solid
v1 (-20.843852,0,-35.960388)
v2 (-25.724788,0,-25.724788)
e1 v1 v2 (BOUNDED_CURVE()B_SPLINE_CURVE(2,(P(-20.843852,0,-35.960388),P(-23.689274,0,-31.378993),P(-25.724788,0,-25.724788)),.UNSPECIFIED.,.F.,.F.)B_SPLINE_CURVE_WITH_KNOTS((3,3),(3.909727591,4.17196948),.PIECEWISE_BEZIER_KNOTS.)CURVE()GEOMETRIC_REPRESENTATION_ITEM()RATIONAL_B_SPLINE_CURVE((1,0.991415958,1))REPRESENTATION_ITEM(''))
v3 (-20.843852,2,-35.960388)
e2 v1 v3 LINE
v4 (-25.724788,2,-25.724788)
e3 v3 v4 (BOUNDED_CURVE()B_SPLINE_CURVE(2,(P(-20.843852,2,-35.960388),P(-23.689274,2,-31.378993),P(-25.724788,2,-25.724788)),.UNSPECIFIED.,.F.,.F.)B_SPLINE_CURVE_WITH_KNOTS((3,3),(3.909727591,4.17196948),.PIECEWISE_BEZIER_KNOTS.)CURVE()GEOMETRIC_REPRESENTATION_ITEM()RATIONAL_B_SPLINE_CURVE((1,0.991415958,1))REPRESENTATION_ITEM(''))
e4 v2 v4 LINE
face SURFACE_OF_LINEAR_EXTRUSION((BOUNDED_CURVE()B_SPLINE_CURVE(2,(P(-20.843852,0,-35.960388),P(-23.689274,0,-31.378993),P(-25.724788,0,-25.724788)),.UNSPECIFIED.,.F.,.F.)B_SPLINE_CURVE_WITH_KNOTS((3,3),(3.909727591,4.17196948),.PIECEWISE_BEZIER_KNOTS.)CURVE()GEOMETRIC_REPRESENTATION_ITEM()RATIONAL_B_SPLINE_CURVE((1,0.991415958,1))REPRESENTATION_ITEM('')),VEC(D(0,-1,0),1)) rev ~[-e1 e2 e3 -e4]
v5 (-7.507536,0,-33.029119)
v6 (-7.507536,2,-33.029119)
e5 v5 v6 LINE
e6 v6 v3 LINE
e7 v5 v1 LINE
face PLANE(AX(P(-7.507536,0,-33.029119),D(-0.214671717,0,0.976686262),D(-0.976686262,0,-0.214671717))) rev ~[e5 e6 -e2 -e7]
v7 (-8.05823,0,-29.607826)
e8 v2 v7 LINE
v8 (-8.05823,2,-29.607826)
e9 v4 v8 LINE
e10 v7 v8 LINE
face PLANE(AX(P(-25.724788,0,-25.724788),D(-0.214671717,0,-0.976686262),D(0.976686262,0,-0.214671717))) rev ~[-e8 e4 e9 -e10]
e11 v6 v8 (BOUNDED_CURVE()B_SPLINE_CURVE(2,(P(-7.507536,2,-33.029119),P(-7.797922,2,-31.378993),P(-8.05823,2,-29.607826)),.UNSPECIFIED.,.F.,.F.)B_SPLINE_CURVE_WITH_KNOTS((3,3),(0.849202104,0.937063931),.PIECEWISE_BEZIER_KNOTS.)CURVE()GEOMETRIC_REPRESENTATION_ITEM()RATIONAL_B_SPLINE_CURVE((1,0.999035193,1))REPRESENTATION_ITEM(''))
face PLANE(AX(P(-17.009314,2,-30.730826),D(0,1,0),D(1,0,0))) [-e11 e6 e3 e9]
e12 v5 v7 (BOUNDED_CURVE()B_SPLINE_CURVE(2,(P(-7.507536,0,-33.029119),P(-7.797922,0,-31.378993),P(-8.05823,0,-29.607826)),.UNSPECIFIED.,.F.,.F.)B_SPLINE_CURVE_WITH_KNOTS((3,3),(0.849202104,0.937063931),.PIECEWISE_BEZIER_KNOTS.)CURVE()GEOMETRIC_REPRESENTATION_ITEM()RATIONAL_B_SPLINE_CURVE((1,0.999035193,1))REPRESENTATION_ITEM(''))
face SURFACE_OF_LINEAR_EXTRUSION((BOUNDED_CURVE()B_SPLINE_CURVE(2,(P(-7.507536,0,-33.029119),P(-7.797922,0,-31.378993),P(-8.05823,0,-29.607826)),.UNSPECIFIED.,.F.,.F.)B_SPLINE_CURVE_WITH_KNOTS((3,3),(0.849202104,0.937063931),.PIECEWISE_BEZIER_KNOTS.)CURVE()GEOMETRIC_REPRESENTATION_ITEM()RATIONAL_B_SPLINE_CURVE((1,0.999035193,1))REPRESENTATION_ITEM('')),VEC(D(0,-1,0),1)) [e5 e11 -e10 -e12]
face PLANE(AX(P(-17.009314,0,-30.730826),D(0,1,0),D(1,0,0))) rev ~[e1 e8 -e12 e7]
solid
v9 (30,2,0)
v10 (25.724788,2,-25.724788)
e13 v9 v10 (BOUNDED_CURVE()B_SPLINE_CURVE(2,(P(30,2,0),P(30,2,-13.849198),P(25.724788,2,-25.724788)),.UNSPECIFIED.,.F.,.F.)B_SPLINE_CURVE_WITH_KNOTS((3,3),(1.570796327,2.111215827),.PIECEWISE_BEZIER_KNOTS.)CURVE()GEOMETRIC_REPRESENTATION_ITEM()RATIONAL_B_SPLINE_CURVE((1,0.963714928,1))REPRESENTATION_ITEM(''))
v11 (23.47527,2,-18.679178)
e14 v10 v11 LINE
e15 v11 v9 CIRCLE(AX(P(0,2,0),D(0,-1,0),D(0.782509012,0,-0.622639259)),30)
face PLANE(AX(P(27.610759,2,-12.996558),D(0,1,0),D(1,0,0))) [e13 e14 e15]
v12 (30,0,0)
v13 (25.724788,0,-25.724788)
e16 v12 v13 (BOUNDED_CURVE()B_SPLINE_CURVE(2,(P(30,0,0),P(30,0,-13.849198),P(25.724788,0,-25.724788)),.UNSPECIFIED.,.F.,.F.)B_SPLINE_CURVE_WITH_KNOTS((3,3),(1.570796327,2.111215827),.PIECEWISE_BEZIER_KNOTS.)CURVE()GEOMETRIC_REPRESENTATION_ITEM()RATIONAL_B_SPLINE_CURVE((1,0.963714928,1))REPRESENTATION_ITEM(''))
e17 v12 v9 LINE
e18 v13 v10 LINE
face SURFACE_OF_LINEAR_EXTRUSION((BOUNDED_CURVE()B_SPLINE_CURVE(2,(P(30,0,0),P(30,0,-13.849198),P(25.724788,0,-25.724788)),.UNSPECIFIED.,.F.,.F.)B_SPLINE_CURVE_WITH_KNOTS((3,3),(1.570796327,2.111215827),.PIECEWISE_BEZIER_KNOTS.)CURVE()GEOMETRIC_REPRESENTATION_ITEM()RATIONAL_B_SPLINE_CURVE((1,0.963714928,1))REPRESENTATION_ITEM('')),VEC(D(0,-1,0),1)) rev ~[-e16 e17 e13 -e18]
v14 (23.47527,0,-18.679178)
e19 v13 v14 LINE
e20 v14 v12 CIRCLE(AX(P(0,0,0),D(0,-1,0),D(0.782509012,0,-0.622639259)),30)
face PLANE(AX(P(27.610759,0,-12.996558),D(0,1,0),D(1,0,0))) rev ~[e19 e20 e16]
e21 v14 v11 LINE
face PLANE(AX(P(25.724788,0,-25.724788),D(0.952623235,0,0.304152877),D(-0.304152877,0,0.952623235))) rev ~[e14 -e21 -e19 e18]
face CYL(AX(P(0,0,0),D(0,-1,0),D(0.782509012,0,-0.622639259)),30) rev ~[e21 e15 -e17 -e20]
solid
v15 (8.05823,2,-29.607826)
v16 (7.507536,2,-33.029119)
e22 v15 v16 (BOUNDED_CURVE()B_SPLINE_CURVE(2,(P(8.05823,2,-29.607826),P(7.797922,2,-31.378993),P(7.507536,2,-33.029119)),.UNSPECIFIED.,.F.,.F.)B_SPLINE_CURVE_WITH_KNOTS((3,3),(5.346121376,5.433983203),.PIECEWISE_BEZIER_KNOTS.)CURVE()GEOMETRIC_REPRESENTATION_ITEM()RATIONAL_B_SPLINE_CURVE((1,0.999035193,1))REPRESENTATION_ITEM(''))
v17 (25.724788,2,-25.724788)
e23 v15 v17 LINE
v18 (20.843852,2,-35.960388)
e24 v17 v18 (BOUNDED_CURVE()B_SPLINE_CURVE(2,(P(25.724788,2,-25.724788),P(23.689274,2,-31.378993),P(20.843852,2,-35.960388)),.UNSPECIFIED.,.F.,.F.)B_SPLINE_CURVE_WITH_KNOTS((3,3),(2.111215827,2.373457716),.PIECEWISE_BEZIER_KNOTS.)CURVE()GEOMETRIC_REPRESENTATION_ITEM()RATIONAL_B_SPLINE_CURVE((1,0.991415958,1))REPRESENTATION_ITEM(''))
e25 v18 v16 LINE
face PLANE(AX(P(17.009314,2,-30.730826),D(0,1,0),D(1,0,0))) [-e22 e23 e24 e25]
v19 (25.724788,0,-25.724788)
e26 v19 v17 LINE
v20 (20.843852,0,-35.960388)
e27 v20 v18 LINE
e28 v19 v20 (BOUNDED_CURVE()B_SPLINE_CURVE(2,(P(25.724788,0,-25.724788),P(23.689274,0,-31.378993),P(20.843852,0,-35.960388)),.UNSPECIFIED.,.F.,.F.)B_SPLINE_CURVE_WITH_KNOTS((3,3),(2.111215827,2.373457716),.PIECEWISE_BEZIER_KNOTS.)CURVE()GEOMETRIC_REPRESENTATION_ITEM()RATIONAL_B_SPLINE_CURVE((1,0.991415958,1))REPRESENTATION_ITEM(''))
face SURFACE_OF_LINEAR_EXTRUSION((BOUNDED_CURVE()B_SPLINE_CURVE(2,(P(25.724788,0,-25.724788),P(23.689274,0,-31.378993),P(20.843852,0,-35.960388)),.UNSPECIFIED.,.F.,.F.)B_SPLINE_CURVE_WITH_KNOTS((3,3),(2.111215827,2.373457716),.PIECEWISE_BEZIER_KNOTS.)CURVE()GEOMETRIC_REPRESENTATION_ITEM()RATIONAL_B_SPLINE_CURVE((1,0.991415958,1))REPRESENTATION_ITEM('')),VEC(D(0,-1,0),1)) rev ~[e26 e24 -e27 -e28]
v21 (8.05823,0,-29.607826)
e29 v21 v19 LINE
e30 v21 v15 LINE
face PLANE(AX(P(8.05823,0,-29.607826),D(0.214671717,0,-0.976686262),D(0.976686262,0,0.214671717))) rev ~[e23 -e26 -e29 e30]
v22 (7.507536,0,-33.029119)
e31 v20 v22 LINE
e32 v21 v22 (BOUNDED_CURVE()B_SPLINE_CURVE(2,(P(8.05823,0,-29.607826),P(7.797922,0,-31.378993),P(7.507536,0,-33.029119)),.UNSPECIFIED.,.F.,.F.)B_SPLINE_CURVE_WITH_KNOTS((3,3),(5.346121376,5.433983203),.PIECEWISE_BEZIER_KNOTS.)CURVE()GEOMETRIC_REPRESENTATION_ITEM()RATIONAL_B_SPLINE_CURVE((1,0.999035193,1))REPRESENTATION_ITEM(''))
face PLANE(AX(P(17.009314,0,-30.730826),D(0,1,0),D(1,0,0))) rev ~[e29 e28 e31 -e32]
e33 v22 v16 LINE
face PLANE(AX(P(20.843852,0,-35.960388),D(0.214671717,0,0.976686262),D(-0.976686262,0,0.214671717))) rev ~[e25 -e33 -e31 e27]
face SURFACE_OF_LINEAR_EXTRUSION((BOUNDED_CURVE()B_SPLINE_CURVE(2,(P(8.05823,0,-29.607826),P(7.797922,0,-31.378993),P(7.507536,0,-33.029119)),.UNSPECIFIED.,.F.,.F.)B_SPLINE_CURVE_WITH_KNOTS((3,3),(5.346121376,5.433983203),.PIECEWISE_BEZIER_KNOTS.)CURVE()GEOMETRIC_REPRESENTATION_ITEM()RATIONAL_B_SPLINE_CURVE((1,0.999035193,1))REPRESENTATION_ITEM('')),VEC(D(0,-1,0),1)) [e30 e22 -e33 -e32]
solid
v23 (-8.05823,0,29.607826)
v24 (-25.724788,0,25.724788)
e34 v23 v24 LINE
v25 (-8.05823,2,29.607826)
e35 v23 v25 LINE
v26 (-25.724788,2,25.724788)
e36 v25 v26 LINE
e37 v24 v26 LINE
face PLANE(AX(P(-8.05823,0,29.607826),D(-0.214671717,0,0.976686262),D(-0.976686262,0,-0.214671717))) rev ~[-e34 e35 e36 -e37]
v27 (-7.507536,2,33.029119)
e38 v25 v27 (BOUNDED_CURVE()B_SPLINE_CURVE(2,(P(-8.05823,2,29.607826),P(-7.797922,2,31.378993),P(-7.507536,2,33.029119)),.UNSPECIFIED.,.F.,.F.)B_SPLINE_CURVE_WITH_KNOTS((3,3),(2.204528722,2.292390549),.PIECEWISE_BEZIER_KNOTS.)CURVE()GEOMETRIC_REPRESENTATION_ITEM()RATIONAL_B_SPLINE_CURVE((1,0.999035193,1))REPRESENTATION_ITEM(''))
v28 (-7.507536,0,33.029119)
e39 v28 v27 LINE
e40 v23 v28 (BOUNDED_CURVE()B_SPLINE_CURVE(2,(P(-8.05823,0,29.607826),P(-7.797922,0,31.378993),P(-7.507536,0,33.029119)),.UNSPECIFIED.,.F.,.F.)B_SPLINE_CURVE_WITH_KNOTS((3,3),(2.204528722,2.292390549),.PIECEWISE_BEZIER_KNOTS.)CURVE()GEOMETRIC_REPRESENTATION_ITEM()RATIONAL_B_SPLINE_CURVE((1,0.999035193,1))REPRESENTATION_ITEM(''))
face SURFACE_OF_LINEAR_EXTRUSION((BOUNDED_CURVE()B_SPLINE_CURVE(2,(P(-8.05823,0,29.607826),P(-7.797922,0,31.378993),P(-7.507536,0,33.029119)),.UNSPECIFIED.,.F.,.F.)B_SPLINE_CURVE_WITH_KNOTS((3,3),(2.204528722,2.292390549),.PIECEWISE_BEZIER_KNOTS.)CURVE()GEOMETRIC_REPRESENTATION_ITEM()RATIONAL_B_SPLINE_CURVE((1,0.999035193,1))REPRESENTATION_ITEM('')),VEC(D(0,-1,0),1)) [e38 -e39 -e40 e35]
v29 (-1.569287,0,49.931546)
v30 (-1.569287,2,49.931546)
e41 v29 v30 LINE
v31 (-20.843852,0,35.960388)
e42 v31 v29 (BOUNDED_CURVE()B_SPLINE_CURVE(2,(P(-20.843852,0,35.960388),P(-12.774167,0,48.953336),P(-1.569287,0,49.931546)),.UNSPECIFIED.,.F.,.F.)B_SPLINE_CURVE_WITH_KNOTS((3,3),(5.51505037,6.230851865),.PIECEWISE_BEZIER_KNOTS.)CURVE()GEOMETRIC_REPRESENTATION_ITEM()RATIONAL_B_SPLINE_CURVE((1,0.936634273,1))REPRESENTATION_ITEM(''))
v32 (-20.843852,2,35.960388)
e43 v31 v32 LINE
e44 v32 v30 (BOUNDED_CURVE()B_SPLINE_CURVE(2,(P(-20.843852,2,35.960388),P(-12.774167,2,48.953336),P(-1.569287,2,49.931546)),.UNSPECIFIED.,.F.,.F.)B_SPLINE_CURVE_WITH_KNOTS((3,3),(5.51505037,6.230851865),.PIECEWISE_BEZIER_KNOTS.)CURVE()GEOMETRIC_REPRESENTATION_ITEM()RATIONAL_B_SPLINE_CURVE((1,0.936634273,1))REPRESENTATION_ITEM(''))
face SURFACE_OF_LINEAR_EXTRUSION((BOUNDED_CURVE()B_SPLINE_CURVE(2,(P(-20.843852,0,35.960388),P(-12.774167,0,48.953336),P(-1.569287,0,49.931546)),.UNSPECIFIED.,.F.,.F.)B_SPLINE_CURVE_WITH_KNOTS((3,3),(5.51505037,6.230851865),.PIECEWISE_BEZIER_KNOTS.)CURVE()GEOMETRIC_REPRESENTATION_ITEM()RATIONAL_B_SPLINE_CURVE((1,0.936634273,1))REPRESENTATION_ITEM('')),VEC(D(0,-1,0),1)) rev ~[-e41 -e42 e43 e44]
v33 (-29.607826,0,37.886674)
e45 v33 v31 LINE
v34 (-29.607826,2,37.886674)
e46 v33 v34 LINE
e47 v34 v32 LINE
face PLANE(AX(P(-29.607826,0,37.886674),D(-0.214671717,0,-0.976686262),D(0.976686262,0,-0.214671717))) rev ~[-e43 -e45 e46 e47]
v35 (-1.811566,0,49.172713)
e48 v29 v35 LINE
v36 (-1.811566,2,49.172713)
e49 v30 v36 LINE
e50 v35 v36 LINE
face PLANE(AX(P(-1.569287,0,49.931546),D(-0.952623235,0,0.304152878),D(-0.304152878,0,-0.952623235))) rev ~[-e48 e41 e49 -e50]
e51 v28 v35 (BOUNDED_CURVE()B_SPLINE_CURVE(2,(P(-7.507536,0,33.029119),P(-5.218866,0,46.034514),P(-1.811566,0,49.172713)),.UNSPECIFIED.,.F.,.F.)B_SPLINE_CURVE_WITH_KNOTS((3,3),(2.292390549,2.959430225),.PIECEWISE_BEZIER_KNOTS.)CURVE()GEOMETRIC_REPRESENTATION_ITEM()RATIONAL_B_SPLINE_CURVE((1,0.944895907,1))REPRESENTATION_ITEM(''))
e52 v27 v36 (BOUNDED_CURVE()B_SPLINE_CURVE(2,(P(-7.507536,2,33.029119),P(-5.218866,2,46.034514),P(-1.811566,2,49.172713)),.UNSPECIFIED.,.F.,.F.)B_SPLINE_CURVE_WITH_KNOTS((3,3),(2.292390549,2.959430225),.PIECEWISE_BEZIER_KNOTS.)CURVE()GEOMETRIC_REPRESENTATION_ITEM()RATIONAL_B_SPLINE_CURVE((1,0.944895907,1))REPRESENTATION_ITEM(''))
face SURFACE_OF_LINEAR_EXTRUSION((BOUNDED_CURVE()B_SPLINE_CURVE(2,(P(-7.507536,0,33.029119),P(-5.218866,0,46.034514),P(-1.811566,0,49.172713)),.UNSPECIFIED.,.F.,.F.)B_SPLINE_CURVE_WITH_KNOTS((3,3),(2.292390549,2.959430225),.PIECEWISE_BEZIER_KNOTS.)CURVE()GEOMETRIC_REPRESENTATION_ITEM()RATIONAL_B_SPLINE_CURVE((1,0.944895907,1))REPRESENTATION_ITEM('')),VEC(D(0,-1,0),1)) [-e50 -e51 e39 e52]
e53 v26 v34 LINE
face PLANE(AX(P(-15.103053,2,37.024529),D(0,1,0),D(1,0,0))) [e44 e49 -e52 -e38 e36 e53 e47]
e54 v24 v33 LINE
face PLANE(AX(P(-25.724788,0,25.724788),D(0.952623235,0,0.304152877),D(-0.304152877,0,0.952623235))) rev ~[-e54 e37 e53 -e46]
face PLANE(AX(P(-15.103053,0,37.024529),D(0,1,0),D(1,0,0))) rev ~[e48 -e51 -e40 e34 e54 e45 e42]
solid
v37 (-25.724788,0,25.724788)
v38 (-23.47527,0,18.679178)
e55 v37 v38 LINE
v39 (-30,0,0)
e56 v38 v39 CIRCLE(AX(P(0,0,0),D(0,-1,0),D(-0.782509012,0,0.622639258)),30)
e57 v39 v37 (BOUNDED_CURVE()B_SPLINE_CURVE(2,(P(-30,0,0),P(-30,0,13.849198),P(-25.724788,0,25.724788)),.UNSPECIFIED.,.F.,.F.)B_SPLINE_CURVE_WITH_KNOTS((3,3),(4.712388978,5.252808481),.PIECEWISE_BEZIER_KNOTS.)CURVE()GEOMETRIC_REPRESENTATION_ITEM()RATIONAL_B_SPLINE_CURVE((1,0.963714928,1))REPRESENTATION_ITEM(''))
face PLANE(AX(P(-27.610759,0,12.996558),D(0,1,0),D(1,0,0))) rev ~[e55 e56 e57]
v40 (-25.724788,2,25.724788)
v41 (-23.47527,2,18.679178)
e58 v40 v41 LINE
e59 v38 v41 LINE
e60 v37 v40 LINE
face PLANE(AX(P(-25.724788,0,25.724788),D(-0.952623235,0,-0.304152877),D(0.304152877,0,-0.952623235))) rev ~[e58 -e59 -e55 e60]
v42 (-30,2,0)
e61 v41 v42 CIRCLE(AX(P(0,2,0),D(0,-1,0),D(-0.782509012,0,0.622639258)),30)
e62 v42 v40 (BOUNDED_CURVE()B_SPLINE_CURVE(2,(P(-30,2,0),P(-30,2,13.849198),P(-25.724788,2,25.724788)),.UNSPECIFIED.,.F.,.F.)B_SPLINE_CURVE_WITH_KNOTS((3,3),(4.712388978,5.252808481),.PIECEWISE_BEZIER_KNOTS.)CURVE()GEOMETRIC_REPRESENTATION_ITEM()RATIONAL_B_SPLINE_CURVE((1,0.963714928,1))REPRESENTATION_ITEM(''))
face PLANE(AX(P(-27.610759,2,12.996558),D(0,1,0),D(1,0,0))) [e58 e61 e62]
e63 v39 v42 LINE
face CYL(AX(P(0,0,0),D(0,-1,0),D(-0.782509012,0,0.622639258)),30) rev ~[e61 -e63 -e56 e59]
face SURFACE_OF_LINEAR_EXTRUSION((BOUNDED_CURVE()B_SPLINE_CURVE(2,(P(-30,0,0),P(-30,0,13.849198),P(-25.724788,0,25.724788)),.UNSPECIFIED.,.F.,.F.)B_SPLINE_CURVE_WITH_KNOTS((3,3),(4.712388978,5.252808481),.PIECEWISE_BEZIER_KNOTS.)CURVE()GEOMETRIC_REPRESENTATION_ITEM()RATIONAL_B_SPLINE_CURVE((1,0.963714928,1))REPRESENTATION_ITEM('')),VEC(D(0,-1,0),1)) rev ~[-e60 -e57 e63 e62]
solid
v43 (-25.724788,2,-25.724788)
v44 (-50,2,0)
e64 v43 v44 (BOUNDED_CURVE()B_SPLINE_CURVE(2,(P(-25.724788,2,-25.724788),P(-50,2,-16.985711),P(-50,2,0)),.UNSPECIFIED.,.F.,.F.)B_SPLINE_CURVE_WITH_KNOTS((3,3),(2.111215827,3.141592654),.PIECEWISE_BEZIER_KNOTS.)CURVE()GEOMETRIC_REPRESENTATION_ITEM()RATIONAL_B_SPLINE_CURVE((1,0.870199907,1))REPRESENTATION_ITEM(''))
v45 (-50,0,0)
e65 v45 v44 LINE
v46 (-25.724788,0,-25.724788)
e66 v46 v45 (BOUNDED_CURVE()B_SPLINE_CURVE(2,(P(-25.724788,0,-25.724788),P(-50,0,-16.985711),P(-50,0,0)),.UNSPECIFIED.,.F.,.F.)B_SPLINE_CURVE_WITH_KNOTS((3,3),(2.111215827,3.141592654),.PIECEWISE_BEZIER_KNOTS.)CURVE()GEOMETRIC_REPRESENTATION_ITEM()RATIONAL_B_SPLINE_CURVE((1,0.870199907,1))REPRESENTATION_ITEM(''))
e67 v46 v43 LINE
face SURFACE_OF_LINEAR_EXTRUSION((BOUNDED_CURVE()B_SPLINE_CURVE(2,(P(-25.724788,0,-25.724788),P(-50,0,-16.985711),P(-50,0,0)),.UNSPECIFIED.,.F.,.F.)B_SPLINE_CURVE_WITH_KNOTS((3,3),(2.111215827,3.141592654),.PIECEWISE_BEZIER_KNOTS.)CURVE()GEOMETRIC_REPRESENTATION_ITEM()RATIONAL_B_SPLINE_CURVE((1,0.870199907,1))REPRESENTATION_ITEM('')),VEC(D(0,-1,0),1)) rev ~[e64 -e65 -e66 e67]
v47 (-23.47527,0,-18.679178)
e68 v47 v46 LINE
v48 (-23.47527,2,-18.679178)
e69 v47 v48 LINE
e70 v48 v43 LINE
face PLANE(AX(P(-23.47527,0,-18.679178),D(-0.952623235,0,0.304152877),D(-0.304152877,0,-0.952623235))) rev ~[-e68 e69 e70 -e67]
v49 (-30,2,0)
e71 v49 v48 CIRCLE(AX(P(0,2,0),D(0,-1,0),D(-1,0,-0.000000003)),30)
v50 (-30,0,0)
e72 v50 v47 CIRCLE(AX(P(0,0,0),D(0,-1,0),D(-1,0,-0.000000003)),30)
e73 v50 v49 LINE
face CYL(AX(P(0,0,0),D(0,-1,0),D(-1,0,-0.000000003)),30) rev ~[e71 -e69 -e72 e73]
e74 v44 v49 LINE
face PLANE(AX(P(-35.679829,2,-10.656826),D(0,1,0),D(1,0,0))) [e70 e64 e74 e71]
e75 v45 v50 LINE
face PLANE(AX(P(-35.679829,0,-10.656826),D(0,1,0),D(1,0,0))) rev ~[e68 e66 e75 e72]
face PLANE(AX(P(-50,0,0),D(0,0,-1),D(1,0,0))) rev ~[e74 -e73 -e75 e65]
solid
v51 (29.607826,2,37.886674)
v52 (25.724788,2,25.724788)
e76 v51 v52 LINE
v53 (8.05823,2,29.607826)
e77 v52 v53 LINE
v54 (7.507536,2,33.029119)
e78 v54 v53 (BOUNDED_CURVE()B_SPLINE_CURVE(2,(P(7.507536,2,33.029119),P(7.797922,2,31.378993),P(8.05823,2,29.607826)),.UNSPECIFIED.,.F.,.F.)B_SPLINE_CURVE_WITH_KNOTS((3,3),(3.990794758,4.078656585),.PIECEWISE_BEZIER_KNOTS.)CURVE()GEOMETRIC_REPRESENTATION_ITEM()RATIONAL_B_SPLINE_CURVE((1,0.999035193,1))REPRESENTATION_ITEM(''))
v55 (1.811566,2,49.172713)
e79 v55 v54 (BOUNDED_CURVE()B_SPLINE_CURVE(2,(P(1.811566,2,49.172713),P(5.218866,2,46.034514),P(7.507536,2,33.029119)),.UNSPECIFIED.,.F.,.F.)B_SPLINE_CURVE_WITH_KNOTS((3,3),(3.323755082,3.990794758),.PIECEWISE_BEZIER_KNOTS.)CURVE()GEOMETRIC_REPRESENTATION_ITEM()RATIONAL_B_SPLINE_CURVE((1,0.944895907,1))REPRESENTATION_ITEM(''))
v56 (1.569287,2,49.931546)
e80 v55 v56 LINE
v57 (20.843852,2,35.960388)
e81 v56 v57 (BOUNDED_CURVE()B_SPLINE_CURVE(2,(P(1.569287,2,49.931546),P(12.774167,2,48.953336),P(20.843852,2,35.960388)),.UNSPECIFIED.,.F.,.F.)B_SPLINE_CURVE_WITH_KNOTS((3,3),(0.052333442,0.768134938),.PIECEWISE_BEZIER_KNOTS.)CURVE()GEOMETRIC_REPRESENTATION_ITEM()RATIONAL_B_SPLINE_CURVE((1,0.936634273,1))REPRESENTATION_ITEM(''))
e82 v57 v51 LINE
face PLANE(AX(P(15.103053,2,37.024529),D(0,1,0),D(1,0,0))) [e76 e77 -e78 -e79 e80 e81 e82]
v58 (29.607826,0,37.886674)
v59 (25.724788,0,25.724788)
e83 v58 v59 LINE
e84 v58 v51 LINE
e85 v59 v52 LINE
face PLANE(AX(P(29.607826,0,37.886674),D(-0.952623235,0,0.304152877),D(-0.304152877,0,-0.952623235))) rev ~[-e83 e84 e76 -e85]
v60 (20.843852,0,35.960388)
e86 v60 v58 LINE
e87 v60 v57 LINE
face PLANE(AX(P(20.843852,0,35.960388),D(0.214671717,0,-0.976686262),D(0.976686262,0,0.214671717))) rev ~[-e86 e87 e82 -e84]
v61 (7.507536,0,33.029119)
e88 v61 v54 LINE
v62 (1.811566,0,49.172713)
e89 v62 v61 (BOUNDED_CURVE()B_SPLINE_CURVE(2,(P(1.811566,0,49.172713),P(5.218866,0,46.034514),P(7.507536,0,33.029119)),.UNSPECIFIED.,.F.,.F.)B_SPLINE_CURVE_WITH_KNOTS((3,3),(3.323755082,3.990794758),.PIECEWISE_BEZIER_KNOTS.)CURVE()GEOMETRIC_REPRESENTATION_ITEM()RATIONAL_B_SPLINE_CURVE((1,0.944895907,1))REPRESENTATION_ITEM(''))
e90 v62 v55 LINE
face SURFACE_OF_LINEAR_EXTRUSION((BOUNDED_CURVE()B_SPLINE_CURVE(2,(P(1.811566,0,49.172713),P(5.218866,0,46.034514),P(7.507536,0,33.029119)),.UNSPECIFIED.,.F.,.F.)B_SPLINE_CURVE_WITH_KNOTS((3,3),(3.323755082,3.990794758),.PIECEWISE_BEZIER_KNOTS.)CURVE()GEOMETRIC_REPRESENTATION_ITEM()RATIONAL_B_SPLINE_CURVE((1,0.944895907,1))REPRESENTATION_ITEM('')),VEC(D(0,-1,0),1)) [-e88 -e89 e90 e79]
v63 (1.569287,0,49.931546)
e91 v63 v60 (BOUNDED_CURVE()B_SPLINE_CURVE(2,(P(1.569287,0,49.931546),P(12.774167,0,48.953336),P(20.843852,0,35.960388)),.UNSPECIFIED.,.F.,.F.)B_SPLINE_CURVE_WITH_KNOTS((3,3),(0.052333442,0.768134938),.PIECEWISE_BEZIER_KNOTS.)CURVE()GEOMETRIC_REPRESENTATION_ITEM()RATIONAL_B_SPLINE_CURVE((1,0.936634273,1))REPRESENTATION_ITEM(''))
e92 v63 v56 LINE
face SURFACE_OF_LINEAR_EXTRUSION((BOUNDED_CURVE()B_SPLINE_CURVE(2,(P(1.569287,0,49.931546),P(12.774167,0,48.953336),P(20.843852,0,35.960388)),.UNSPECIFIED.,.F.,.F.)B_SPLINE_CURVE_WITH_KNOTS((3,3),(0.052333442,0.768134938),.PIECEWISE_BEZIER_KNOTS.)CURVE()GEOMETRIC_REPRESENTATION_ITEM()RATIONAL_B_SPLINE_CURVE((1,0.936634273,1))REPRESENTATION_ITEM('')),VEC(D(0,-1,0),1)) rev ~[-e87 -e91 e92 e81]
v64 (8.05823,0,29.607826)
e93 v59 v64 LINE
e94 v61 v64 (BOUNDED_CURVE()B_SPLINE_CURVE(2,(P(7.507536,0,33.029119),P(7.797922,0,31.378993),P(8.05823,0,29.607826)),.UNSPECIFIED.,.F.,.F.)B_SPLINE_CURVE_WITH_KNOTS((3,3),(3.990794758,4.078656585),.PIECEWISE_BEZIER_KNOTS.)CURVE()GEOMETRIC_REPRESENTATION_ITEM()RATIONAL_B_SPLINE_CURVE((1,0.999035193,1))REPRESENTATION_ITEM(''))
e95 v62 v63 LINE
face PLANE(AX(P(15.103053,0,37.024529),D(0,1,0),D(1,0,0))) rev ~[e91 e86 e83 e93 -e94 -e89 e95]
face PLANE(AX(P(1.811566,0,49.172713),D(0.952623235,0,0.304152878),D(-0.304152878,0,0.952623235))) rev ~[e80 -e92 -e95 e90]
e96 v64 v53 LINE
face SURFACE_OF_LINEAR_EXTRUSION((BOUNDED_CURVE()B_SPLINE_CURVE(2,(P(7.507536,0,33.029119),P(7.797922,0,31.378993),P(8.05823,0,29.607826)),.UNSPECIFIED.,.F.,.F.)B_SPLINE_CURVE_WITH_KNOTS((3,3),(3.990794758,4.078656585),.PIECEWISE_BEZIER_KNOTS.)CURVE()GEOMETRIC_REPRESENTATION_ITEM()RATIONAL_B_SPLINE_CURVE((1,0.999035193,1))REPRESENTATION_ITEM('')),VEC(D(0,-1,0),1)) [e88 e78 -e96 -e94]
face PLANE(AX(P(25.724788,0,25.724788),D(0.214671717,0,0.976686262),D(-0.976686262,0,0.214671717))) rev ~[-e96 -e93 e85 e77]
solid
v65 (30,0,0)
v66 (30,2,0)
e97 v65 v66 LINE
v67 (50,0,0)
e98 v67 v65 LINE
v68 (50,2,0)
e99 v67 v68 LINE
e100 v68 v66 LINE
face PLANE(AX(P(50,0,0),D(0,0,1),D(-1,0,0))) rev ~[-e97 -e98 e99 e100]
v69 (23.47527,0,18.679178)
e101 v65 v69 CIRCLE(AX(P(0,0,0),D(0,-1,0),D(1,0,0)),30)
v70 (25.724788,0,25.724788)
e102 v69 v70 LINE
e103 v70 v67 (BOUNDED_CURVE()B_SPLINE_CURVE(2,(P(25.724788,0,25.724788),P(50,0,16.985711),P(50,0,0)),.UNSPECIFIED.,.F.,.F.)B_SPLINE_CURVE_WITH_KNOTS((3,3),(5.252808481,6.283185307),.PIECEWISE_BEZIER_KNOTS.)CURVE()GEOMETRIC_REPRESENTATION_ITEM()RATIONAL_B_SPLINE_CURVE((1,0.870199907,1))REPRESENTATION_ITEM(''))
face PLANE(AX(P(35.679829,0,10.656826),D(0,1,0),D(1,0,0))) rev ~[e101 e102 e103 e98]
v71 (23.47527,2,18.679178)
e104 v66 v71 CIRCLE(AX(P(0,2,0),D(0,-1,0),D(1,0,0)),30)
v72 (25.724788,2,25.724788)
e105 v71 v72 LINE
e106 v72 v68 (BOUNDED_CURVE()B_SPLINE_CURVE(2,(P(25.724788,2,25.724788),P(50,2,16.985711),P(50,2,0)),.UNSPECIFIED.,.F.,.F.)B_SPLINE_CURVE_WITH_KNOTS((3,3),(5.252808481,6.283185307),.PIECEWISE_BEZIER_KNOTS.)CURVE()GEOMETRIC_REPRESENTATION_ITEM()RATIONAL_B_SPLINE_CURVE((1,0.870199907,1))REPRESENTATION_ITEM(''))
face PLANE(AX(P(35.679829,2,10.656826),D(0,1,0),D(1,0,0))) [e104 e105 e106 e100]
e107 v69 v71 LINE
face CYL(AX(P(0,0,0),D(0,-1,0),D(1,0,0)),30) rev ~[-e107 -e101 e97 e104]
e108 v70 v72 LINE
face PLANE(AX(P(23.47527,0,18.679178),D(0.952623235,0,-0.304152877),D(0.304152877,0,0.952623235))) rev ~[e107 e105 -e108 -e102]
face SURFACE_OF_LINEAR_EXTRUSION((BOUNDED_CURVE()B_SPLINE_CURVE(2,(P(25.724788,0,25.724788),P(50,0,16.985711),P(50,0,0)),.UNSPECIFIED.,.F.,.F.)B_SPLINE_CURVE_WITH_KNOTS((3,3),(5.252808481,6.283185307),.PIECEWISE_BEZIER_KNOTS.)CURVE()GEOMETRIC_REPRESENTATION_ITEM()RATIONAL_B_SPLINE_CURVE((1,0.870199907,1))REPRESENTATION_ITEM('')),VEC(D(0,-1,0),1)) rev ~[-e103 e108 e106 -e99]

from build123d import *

# Parameters (mm, degrees)
DODANIE_WYCI_GNI_CIE1_DEPTH   = 2
DODANIE_WYCI_GNI_CIE1_2_DEPTH = 2
DODANIE_WYCI_GNI_CIE1_3_DEPTH = 2
DODANIE_WYCI_GNI_CIE1_4_DEPTH = 2
DODANIE_WYCI_GNI_CIE1_5_DEPTH = 2
DODANIE_WYCI_GNI_CIE1_6_DEPTH = 2
DODANIE_WYCI_GNI_CIE1_7_DEPTH = 2
DODANIE_WYCI_GNI_CIE1_8_DEPTH = 2


with BuildPart() as part:
    # Szkic1 → Dodanie-wyciągnięcie1 (new body)
    with BuildSketch(Plane(origin=(0, 0, 0), x_dir=(1, 0, 0), z_dir=(0, 1, 0))):
        with BuildLine():
            Line((-25.724787771, 25.724787771), (-8.05822964, 29.607826273))
            add(Edge.make_bspline(
                [(-7.507535684, 33.029118956), (-7.79792239, 31.378992774), (-8.05822964, 29.607826273)],
                knots=[0.849202104, 0.849202104, 0.849202104, 0.937063931, 0.937063931, 0.937063931], degree=2, weights=[1, 0.999035193, 1]))
            Line((-7.507535684, 33.029118956), (-20.843852414, 35.960387795))
            add(Edge.make_bspline(
                [(-20.843852414, 35.960387795), (-23.68927397, 31.378992774), (-25.724787771, 25.724787771)],
                knots=[3.909727591, 3.909727591, 3.909727591, 4.17196948, 4.17196948, 4.17196948], degree=2, weights=[1, 0.991415958, 1]))
        make_face()
    extrude(amount=DODANIE_WYCI_GNI_CIE1_DEPTH)


with BuildPart() as body_2:
    # Szkic1 → Dodanie-wyci_gni_cie1 2 (new body)
    with BuildSketch(Plane(origin=(0, 0, 0), x_dir=(1, 0, 0), z_dir=(0, 1, 0))):
        with BuildLine():
            Line((-23.475270357, 18.679177757), (-25.724787771, 25.724787771))
            add(Edge.make_bspline(
                [(-25.724787771, 25.724787771), (-50, 16.985711369), (-50, 0)],
                knots=[2.111215827, 2.111215827, 2.111215827, 3.141592654, 3.141592654, 3.141592654], degree=2, weights=[1, 0.870199907, 1]))
            Line((-50, 0), (-30, 0))
            ThreePointArc((-30, 9.5e-08), (-28.321882961, 9.892974554), (-23.475270357, 18.679177757))
        make_face()
    extrude(amount=DODANIE_WYCI_GNI_CIE1_2_DEPTH)


with BuildPart() as body_3:
    # Szkic1 → Dodanie-wyci_gni_cie1 3 (new body)
    with BuildSketch(Plane(origin=(0, 0, 0), x_dir=(1, 0, 0), z_dir=(0, 1, 0))):
        with BuildLine():
            ThreePointArc((-23.475270357, -18.679177757), (-28.321882992, -9.892974465), (-30, 9.5e-08))
            add(Edge.make_bspline(
                [(-30, 9.5e-08), (-30.000000016, -13.849198204), (-25.724787771, -25.724787771)],
                knots=[4.712388978, 4.712388978, 4.712388978, 5.252808481, 5.252808481, 5.252808481], degree=2, weights=[1, 0.963714928, 1]))
            Line((-25.724787771, -25.724787771), (-23.475270357, -18.679177757))
        make_face()
    extrude(amount=DODANIE_WYCI_GNI_CIE1_3_DEPTH)


with BuildPart() as body_4:
    # Szkic1 → Dodanie-wyci_gni_cie1 4 (new body)
    with BuildSketch(Plane(origin=(0, 0, 0), x_dir=(1, 0, 0), z_dir=(0, 1, 0))):
        with BuildLine():
            Line((-29.607826273, -37.88667404), (-20.843852414, -35.960387795))
            add(Edge.make_bspline(
                [(-20.843852414, -35.960387795), (-12.774167321, -48.953336072), (-1.56928672, -49.931545896)],
                knots=[5.51505037, 5.51505037, 5.51505037, 6.230851865, 6.230851865, 6.230851865], degree=2, weights=[1, 0.936634273, 1]))
            Line((-1.56928672, -49.931545896), (-1.811566447, -49.17271271))
            add(Edge.make_bspline(
                [(-7.507535684, -33.029118956), (-5.218865934, -46.034514162), (-1.811566447, -49.17271271)],
                knots=[2.292390549, 2.292390549, 2.292390549, 2.959430225, 2.959430225, 2.959430225], degree=2, weights=[1, 0.944895907, 1]))
            add(Edge.make_bspline(
                [(-8.05822964, -29.607826273), (-7.79792239, -31.378992774), (-7.507535684, -33.029118956)],
                knots=[2.204528722, 2.204528722, 2.204528722, 2.292390549, 2.292390549, 2.292390549], degree=2, weights=[1, 0.999035193, 1]))
            Line((-8.05822964, -29.607826273), (-25.724787771, -25.724787771))
            Line((-25.724787771, -25.724787771), (-29.607826273, -37.88667404))
        make_face()
    extrude(amount=DODANIE_WYCI_GNI_CIE1_4_DEPTH)


with BuildPart() as body_5:
    # Szkic1 → Dodanie-wyci_gni_cie1 5 (new body)
    with BuildSketch(Plane(origin=(0, 0, 0), x_dir=(1, 0, 0), z_dir=(0, 1, 0))):
        with BuildLine():
            Line((8.05822964, 29.607826273), (25.724787771, 25.724787771))
            add(Edge.make_bspline(
                [(25.724787771, 25.724787771), (23.68927397, 31.378992774), (20.843852414, 35.960387795)],
                knots=[2.111215827, 2.111215827, 2.111215827, 2.373457716, 2.373457716, 2.373457716], degree=2, weights=[1, 0.991415958, 1]))
            Line((20.843852414, 35.960387795), (7.507535684, 33.029118956))
            add(Edge.make_bspline(
                [(8.05822964, 29.607826273), (7.79792239, 31.378992774), (7.507535684, 33.029118956)],
                knots=[5.346121376, 5.346121376, 5.346121376, 5.433983203, 5.433983203, 5.433983203], degree=2, weights=[1, 0.999035193, 1]))
        make_face()
    extrude(amount=DODANIE_WYCI_GNI_CIE1_5_DEPTH)


with BuildPart() as body_6:
    # Szkic1 → Dodanie-wyci_gni_cie1 6 (new body)
    with BuildSketch(Plane(origin=(0, 0, 0), x_dir=(1, 0, 0), z_dir=(0, 1, 0))):
        with BuildLine():
            add(Edge.make_bspline(
                [(30, 0), (30, 13.849198247), (25.724787771, 25.724787771)],
                knots=[1.570796327, 1.570796327, 1.570796327, 2.111215827, 2.111215827, 2.111215827], degree=2, weights=[1, 0.963714928, 1]))
            Line((25.724787771, 25.724787771), (23.475270357, 18.679177757))
            ThreePointArc((23.475270357, 18.679177757), (28.321882977, 9.89297451), (30, 0))
        make_face()
    extrude(amount=DODANIE_WYCI_GNI_CIE1_6_DEPTH)


with BuildPart() as body_7:
    # Szkic1 → Dodanie-wyci_gni_cie1 7 (new body)
    with BuildSketch(Plane(origin=(0, 0, 0), x_dir=(1, 0, 0), z_dir=(0, 1, 0))):
        with BuildLine():
            Line((25.724787771, -25.724787771), (8.05822964, -29.607826273))
            add(Edge.make_bspline(
                [(7.507535684, -33.029118956), (7.79792239, -31.378992774), (8.05822964, -29.607826273)],
                knots=[3.990794758, 3.990794758, 3.990794758, 4.078656585, 4.078656585, 4.078656585], degree=2, weights=[1, 0.999035193, 1]))
            add(Edge.make_bspline(
                [(1.811566447, -49.17271271), (5.218865934, -46.034514162), (7.507535684, -33.029118956)],
                knots=[3.323755082, 3.323755082, 3.323755082, 3.990794758, 3.990794758, 3.990794758], degree=2, weights=[1, 0.944895907, 1]))
            Line((1.811566447, -49.17271271), (1.56928672, -49.931545896))
            add(Edge.make_bspline(
                [(1.56928672, -49.931545896), (12.774167321, -48.953336072), (20.843852414, -35.960387795)],
                knots=[0.052333442, 0.052333442, 0.052333442, 0.768134938, 0.768134938, 0.768134938], degree=2, weights=[1, 0.936634273, 1]))
            Line((20.843852414, -35.960387795), (29.607826273, -37.88667404))
            Line((29.607826273, -37.88667404), (25.724787771, -25.724787771))
        make_face()
    extrude(amount=DODANIE_WYCI_GNI_CIE1_7_DEPTH)


with BuildPart() as body_8:
    # Szkic1 → Dodanie-wyci_gni_cie1 8 (new body)
    with BuildSketch(Plane(origin=(0, 0, 0), x_dir=(1, 0, 0), z_dir=(0, 1, 0))):
        with BuildLine():
            Line((23.475270357, -18.679177757), (25.724787771, -25.724787771))
            add(Edge.make_bspline(
                [(25.724787771, -25.724787771), (50, -16.985711369), (50, 0)],
                knots=[5.252808481, 5.252808481, 5.252808481, 6.283185307, 6.283185307, 6.283185307], degree=2, weights=[1, 0.870199907, 1]))
            Line((50, 0), (30, 0))
            ThreePointArc((30, 0), (28.321882977, -9.89297451), (23.475270357, -18.679177757))
        make_face()
    extrude(amount=DODANIE_WYCI_GNI_CIE1_8_DEPTH)


solid = Compound([part.part, body_2.part, body_3.part, body_4.part, body_5.part, body_6.part, body_7.part, body_8.part])
